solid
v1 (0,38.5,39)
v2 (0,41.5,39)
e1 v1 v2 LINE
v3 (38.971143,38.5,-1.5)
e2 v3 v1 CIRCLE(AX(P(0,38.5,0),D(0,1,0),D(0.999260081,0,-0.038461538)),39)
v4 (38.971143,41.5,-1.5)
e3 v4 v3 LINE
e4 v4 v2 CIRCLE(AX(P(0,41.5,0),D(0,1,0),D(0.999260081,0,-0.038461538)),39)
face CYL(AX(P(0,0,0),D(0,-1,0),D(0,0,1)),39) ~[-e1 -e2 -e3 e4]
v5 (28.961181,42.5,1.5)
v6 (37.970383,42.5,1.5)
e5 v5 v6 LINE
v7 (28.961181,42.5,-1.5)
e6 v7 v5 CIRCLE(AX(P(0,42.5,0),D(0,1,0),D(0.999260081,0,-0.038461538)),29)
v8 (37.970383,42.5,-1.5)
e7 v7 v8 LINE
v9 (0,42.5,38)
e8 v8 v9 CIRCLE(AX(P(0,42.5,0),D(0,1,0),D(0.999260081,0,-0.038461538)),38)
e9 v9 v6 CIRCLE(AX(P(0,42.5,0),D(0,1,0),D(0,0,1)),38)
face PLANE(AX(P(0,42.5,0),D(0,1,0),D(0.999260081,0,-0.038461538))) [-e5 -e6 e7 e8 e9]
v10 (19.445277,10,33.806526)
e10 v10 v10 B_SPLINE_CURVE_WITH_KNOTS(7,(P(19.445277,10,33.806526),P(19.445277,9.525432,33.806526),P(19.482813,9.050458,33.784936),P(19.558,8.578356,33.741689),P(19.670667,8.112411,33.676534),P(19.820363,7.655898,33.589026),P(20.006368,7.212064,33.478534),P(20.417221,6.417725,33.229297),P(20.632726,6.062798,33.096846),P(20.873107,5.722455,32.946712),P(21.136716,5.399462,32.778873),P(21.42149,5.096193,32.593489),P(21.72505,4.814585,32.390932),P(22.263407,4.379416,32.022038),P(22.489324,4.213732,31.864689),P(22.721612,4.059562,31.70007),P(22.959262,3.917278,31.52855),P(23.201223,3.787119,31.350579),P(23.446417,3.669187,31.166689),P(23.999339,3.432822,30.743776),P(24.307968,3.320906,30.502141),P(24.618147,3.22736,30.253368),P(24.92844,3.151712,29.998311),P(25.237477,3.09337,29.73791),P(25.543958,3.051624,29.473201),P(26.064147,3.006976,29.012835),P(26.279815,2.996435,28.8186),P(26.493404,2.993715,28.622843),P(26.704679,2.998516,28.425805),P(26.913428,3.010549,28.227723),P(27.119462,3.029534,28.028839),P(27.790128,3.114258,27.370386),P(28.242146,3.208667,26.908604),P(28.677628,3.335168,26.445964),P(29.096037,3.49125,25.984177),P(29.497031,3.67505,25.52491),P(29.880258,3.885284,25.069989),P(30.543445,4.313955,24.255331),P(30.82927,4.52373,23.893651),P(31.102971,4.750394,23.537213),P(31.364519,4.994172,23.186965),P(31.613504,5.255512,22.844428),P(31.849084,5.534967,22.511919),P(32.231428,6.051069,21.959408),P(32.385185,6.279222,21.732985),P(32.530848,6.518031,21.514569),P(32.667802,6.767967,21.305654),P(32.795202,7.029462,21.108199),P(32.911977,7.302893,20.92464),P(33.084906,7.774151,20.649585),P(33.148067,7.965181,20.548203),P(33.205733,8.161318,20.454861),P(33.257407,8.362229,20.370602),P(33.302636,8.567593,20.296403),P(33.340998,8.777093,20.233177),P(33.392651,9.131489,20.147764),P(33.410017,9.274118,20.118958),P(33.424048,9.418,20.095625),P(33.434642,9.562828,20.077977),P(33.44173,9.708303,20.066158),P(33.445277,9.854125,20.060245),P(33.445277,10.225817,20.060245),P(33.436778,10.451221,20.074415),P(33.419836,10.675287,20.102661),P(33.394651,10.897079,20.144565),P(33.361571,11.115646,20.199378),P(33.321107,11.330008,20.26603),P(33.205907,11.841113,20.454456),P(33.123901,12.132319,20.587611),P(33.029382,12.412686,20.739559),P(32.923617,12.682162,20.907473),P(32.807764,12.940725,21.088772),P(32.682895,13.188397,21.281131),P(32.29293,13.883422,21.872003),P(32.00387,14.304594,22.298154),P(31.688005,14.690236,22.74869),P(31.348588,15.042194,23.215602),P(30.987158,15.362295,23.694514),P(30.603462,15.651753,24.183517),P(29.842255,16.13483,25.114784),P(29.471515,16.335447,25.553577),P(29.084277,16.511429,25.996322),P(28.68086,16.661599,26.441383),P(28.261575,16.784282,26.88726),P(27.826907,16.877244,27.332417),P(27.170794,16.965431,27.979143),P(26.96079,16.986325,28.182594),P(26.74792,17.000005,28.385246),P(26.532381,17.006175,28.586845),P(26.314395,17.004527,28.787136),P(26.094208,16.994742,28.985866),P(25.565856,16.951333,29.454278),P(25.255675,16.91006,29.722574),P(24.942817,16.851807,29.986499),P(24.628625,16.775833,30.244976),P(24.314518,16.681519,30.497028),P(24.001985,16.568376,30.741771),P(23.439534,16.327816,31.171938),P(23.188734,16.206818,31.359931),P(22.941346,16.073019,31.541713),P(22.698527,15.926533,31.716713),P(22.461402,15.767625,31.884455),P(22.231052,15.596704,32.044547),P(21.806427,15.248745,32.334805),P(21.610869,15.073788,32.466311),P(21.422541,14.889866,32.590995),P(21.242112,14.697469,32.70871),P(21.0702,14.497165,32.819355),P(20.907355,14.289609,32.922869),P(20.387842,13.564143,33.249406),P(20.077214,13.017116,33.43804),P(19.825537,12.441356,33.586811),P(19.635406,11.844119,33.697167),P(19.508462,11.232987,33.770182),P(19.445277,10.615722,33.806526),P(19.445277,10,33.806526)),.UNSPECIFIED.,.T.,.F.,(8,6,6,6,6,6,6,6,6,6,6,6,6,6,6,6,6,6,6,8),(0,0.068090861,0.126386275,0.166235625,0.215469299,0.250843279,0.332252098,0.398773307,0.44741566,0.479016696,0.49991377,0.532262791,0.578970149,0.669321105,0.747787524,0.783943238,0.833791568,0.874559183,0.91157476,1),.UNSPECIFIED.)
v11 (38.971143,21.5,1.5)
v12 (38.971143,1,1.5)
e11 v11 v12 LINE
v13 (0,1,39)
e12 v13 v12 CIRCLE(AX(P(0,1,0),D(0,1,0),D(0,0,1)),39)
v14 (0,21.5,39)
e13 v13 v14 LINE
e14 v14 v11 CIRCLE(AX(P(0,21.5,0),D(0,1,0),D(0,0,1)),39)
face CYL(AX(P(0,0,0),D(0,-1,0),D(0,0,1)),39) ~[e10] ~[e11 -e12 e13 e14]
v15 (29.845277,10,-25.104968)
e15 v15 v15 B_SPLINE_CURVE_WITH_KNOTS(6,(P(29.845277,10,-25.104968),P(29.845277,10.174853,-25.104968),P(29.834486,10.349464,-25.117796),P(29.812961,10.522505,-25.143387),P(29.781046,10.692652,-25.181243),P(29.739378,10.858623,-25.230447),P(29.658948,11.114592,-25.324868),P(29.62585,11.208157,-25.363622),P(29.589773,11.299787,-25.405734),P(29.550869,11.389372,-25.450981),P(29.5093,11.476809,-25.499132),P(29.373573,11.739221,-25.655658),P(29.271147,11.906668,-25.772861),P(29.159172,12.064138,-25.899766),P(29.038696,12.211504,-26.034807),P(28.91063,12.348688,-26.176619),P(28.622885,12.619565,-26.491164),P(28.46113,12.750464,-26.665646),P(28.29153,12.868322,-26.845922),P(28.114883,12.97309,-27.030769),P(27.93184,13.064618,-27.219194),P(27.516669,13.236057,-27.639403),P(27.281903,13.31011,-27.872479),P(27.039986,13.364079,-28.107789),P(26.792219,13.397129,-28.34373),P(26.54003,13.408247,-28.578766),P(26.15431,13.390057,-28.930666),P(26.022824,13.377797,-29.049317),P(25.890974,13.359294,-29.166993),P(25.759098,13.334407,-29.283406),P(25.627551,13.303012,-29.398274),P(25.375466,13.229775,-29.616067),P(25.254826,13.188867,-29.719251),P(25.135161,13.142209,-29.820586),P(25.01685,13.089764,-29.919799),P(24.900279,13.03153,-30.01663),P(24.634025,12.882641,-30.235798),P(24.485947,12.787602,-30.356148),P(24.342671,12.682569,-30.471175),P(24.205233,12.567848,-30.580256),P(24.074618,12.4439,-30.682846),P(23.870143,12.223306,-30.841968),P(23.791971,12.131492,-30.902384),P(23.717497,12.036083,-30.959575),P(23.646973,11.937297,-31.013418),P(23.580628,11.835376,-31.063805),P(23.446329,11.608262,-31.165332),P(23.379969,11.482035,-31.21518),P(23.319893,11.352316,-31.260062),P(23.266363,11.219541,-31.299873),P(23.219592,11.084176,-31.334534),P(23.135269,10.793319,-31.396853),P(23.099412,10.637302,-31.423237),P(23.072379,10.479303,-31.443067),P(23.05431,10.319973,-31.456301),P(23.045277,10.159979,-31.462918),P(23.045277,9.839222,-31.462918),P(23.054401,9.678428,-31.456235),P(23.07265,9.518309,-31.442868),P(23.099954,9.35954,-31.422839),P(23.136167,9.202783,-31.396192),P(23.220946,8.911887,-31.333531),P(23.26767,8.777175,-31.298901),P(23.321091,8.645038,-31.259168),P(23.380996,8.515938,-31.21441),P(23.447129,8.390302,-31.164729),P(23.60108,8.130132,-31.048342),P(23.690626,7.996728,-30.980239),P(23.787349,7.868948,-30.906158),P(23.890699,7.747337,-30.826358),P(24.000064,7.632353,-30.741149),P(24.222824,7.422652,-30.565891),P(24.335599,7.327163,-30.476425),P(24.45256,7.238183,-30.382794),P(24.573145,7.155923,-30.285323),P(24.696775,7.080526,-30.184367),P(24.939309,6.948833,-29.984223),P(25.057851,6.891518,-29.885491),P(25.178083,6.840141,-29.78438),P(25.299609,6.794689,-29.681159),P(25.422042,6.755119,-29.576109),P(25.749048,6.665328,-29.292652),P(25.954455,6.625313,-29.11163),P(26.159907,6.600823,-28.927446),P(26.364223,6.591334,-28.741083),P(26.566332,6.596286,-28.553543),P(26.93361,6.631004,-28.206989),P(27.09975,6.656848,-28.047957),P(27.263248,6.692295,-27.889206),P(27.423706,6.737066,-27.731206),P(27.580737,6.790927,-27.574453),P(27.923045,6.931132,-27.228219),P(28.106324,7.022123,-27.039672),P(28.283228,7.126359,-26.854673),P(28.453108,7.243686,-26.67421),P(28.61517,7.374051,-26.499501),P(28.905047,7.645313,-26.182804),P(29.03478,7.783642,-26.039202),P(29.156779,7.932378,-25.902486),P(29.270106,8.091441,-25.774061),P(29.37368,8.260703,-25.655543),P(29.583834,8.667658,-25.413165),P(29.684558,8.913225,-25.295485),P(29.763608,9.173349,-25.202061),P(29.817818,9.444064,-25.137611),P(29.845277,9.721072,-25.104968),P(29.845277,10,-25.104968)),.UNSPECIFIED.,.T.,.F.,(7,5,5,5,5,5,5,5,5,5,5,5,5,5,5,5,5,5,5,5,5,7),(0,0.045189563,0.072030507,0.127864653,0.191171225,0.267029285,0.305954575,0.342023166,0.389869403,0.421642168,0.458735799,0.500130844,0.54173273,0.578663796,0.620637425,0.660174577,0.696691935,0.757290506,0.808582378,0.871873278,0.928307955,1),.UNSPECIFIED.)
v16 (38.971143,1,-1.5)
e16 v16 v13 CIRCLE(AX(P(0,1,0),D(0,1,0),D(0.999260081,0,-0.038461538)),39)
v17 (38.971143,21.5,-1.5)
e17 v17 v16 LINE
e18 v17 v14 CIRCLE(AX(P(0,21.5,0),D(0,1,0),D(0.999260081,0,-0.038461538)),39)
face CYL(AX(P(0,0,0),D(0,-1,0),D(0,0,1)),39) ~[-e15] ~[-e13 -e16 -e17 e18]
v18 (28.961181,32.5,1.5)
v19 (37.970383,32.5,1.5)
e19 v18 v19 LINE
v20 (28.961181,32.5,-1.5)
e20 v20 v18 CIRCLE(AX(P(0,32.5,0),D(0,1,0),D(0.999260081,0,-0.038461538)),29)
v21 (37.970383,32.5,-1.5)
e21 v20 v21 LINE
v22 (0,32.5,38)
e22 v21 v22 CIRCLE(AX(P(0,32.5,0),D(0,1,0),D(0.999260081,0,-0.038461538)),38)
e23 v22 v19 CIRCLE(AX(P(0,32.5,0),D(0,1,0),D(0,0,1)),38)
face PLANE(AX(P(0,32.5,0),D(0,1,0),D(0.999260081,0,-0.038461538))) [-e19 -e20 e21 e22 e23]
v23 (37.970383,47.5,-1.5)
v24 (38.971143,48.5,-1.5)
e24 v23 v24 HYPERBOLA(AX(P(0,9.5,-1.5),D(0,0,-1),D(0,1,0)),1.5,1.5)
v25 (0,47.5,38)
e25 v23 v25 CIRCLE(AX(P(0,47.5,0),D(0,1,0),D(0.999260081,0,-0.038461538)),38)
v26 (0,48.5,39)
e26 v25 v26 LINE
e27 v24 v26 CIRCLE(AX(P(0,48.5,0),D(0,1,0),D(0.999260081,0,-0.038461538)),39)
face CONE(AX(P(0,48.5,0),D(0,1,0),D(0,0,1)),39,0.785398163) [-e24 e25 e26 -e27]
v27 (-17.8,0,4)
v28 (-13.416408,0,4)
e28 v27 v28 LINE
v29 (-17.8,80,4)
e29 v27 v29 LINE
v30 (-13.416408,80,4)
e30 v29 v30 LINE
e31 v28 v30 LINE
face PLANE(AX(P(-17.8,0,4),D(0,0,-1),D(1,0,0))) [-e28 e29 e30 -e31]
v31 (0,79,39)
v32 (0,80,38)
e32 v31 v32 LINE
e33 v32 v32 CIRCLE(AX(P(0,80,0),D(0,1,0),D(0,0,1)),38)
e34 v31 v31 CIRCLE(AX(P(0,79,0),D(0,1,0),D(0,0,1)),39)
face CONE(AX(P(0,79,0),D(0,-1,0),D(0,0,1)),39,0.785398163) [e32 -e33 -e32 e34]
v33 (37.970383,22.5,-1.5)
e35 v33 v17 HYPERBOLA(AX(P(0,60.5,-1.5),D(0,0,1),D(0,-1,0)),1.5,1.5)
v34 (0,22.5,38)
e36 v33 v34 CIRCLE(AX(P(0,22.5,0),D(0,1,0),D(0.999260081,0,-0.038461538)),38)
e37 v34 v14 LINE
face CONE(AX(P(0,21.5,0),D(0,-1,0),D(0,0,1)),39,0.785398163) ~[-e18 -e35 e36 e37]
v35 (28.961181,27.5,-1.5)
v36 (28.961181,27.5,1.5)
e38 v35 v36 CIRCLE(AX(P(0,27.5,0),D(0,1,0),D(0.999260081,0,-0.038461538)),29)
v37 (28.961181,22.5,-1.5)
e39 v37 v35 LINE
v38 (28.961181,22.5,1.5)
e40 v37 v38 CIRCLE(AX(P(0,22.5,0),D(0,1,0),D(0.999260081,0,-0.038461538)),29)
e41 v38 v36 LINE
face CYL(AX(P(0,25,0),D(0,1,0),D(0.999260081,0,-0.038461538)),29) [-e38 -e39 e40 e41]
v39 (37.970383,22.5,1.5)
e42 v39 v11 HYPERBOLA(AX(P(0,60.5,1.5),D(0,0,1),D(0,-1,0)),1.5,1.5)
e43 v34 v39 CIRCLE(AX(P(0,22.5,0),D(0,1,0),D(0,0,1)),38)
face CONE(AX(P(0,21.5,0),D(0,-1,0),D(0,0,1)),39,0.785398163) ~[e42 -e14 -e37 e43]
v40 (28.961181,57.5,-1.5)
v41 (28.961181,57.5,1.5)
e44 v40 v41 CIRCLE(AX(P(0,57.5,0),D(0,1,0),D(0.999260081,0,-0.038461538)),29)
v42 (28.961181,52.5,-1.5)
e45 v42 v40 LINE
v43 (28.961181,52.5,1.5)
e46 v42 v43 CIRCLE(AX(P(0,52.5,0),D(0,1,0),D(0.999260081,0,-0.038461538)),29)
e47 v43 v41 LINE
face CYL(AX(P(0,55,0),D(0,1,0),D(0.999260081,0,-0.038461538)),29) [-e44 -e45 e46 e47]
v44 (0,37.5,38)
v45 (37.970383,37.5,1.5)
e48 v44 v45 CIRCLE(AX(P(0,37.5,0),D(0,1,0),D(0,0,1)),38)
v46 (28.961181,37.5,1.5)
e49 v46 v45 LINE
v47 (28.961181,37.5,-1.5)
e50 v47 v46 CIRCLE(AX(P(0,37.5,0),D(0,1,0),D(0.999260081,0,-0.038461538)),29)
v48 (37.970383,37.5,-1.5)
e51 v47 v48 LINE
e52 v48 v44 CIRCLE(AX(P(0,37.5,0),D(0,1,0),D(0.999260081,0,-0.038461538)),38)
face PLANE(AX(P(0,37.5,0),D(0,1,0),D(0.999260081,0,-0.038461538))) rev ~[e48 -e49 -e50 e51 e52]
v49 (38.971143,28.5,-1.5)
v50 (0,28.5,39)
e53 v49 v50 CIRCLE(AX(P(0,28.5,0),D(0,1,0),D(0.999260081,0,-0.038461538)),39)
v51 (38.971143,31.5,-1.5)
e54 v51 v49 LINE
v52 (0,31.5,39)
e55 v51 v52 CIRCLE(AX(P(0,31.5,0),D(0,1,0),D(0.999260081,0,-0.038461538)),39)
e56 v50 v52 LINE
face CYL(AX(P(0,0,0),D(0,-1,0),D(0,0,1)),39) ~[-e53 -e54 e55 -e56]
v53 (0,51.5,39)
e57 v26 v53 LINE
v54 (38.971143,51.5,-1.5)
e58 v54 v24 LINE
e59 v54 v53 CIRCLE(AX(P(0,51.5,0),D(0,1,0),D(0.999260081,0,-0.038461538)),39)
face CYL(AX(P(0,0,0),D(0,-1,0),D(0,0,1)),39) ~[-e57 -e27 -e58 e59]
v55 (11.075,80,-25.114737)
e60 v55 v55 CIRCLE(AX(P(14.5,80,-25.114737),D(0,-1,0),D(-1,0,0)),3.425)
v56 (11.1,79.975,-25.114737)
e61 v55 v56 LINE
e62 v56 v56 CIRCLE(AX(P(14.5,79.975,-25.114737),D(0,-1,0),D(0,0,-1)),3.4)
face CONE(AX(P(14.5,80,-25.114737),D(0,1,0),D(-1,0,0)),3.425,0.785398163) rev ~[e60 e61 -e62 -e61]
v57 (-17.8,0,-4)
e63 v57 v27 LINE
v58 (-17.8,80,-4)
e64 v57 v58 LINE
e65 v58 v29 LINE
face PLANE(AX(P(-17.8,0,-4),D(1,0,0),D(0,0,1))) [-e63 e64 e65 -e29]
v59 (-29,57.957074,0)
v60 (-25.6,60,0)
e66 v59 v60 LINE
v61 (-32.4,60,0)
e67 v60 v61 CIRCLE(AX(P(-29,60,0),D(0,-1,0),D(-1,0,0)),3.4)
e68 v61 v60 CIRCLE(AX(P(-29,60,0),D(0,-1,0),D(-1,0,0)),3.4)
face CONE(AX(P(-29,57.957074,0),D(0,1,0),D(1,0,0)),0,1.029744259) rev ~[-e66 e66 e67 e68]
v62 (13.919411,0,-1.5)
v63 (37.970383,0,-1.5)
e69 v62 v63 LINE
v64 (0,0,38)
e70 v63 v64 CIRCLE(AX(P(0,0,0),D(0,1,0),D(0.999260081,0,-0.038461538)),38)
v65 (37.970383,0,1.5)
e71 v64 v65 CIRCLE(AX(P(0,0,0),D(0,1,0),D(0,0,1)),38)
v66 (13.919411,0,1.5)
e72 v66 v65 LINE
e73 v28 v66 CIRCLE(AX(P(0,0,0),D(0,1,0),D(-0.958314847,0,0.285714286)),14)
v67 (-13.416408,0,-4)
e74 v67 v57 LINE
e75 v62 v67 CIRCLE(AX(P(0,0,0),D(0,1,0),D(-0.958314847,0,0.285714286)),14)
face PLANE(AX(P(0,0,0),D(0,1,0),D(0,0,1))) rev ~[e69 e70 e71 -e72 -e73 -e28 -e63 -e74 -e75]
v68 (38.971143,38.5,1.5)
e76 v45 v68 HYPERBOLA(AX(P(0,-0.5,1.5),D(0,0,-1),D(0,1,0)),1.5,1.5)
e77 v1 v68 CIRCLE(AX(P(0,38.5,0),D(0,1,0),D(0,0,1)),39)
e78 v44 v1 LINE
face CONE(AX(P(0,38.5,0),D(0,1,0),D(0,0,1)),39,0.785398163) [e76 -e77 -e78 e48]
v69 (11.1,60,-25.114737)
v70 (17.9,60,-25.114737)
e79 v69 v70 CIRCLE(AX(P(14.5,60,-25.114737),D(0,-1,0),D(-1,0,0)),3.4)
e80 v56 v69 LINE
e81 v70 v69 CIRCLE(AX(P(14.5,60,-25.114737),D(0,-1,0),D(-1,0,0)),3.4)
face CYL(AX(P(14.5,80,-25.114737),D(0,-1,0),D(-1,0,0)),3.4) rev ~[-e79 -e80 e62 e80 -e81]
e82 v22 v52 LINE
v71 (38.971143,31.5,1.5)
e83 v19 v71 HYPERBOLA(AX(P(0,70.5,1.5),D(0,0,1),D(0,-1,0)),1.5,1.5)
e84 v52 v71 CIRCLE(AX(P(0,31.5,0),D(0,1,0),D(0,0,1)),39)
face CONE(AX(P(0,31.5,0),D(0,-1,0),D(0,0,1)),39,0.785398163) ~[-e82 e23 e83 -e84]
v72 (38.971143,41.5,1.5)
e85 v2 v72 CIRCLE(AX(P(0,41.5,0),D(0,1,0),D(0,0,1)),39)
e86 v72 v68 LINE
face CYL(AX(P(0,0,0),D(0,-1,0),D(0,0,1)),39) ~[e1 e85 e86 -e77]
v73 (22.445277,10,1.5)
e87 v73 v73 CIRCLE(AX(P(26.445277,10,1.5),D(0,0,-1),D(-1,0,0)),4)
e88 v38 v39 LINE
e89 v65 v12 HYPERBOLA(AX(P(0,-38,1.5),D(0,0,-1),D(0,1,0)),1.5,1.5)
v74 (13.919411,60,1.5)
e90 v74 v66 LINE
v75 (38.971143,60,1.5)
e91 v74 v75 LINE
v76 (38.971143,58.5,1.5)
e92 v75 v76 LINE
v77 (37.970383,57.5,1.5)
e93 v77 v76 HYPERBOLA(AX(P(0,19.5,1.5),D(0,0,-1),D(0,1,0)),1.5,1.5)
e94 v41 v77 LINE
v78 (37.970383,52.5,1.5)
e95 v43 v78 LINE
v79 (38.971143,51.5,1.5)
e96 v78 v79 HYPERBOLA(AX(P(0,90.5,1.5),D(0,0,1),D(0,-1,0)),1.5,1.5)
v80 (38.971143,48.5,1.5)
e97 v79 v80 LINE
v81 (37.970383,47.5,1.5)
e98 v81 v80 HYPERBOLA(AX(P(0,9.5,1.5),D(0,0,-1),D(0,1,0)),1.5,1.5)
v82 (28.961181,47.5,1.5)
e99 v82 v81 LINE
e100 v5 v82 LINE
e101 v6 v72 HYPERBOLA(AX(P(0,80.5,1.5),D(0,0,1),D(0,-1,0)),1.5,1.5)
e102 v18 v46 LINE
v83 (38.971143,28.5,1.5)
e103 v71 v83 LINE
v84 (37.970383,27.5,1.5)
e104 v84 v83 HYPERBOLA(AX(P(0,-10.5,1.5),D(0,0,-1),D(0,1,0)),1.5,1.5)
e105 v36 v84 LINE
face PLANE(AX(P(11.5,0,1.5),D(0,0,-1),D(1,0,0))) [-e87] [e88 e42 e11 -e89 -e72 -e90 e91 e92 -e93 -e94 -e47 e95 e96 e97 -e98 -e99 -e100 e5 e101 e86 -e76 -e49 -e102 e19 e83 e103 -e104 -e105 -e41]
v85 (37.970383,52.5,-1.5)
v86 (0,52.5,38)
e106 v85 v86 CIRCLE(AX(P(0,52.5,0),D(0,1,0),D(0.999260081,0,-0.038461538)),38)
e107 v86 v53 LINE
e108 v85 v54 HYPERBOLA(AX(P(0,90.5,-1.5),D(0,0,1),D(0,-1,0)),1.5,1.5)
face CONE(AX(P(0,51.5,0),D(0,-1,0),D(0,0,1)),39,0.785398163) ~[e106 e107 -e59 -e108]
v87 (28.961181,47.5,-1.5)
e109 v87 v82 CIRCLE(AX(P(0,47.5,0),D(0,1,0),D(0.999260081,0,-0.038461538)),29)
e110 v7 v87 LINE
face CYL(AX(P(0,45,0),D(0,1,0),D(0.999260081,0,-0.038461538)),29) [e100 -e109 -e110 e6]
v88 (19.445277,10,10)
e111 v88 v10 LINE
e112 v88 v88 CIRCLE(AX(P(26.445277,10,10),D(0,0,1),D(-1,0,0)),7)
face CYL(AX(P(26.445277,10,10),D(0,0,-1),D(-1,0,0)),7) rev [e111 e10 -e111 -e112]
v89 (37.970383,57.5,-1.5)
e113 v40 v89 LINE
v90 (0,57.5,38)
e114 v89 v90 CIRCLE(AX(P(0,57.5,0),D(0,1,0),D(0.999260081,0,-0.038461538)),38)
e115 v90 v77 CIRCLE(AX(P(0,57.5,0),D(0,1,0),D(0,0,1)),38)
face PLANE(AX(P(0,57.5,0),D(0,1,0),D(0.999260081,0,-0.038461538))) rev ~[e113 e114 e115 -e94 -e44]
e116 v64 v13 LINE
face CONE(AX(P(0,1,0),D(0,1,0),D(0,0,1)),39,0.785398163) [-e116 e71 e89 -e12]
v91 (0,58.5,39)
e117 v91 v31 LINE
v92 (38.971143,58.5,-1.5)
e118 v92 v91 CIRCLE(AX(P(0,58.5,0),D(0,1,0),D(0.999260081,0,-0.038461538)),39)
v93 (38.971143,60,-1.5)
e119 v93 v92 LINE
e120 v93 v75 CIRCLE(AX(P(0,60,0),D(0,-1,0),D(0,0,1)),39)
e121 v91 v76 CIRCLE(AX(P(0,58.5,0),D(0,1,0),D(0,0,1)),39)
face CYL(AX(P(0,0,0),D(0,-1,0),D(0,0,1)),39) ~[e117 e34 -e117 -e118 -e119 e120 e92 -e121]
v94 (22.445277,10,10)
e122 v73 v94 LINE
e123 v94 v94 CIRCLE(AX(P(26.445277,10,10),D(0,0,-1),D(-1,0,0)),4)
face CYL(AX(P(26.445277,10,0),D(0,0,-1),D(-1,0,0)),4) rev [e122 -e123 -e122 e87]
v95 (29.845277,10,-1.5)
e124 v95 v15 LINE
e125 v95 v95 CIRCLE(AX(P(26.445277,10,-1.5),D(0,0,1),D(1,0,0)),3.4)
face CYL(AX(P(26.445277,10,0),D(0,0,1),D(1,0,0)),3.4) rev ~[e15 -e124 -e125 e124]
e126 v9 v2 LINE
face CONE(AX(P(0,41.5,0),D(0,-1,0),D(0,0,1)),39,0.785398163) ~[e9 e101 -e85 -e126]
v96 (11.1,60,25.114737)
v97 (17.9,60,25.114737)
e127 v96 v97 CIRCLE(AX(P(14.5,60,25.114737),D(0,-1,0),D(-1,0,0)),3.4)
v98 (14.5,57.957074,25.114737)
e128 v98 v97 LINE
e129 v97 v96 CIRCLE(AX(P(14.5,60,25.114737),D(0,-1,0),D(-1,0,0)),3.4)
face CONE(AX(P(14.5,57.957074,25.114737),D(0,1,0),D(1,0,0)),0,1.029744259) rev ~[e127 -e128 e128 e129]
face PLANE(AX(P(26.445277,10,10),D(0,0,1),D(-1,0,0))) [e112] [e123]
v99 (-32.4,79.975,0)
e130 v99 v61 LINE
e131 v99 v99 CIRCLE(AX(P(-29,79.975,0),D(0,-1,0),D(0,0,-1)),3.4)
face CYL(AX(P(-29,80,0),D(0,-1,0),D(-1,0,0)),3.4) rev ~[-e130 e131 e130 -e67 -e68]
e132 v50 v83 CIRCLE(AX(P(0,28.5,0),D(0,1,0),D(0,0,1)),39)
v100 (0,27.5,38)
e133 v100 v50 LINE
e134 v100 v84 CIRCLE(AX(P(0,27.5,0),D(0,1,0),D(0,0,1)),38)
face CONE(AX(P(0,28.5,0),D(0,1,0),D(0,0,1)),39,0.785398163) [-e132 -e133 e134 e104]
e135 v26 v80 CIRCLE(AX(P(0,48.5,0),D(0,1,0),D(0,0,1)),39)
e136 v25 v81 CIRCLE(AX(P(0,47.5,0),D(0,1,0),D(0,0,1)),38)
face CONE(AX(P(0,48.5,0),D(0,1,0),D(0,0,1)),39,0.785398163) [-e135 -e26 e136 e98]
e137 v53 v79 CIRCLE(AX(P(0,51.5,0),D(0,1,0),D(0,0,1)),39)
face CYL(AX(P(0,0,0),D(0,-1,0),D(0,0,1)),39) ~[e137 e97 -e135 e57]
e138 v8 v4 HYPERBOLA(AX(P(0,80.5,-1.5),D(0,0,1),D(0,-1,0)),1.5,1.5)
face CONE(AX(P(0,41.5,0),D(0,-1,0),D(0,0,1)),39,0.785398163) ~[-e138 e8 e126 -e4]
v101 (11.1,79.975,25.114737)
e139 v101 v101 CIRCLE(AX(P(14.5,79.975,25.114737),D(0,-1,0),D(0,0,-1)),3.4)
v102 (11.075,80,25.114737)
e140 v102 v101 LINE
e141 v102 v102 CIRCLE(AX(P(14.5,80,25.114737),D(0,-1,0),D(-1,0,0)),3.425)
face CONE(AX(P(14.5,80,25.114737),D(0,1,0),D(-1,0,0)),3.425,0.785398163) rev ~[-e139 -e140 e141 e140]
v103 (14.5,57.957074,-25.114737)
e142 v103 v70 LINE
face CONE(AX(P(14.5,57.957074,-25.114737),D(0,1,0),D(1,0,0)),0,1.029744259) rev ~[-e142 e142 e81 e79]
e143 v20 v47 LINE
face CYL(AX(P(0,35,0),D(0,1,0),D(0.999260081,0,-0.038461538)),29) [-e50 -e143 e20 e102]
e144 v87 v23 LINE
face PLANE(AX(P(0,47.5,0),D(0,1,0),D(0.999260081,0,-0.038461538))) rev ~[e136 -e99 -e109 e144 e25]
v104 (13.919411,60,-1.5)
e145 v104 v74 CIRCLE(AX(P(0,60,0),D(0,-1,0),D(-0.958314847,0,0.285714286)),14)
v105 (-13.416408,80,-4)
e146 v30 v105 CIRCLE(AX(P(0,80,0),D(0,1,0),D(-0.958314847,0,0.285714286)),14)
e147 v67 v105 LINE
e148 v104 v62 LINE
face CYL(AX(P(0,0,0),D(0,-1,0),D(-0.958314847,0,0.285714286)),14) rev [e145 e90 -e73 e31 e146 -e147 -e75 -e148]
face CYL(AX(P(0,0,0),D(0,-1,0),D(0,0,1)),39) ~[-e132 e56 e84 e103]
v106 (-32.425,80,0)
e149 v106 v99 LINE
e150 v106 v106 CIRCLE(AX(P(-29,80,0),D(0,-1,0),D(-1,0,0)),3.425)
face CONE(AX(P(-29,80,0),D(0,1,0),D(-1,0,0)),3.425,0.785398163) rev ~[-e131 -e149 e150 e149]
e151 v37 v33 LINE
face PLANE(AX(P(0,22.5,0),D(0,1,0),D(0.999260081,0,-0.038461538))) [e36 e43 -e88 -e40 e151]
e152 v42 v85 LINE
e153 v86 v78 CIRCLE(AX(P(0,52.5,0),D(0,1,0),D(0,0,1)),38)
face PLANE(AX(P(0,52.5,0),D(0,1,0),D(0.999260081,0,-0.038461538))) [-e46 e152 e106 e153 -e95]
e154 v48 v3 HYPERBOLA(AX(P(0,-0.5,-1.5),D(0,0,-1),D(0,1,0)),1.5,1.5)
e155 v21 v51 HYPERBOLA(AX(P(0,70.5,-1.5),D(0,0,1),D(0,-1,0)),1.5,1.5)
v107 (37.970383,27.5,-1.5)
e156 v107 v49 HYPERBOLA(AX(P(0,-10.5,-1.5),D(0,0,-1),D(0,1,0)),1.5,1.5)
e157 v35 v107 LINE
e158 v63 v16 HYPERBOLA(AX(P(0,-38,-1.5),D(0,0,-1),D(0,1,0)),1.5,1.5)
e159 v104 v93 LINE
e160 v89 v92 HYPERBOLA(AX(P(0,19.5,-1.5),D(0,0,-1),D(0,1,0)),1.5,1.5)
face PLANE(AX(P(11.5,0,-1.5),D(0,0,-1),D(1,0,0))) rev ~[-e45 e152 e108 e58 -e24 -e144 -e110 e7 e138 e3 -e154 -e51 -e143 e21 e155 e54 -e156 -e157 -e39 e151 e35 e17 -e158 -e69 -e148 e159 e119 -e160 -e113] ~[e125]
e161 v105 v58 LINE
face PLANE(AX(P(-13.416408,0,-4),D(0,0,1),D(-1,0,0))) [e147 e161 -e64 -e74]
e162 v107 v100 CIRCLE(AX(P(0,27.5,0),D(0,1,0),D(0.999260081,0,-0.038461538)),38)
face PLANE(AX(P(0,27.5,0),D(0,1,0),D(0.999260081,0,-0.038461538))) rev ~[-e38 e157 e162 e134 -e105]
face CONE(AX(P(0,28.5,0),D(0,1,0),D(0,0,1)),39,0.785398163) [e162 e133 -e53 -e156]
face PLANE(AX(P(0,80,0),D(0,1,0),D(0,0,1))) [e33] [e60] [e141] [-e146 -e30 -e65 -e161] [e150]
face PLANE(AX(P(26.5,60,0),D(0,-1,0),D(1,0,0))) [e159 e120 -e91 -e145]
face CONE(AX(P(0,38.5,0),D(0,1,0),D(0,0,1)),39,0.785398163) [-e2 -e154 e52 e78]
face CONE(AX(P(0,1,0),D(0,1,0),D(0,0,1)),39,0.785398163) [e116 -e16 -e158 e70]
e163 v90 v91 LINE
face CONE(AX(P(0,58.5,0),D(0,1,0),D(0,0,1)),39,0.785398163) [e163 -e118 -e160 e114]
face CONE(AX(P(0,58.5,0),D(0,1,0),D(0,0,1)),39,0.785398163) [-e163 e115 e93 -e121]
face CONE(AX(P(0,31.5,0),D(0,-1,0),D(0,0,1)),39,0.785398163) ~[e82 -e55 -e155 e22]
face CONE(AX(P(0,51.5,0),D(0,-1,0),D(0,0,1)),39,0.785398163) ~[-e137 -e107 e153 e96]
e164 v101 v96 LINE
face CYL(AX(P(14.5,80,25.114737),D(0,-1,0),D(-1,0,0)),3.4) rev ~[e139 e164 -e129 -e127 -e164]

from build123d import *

# Parameters (mm, degrees)
SKETCH4_R                            = 39
BOSS_EXTRUDE1_DEPTH                  = 80
SKETCH7_W                            = 30
SKETCH7_H                            = 3
CUT_EXTRUDE1_DEPTH                   = 60
SKETCH9_R                            = 3.4
CUT_EXTRUDE2_DEPTH                   = 98.169954204
SKETCH10_R                           = 4
CUT_EXTRUDE3_DEPTH                   = 98.169954367
CUT_EXTRUDE4_START                   = 10
SKETCH11_R                           = 7
CUT_EXTRUDE4_DEPTH                   = 88.169954367
SKETCH14_W                           = 10
SKETCH14_H                           = 5
LPATTERN2_COUNT                      = 4
LPATTERN2_PITCH                      = 10
CHAMFER1_SIZE                        = 1
F_6_8_6_8_DIAMETER_HOLE1_D           = 6.8
F_6_8_6_8_DIAMETER_HOLE1_DEPTH       = 20
F_6_8_6_8_DIAMETER_HOLE1_CSINK_D     = 6.85
F_6_8_6_8_DIAMETER_HOLE1_CSINK_ANGLE = 90
F_6_8_6_8_DIAMETER_HOLE1_TIP         = 2.042926105


with BuildPart() as part:
    # Sketch4 → Boss-Extrude1 (new body)
    with BuildSketch(Plane(origin=(0, 0, 0), x_dir=(1, 0, 0), z_dir=(0, 1, 0))):
        with Locations(Location((0, 0, 0), (0, 0, 270))):
            Circle(SKETCH4_R)
        with BuildLine():
            Line((-17.8, 4), (-17.8, -4))
            Line((-17.8, -4), (-13.416407865, -4))
            ThreePointArc((-13.416407865, -4), (14, 0), (-13.416407865, 4))
            Line((-13.416407865, 4), (-17.8, 4))
        make_face(mode=Mode.SUBTRACT)
    extrude(amount=BOSS_EXTRUDE1_DEPTH)

    # Sketch7 → Cut-Extrude1 (cut)
    with BuildSketch(Plane.XZ):
        with Locations((26.5, 0)):
            Rectangle(SKETCH7_W, SKETCH7_H)
    extrude(amount=-CUT_EXTRUDE1_DEPTH, mode=Mode.SUBTRACT)

    # Sketch9 → Cut-Extrude2 (cut, through all)
    with BuildSketch(Plane.XY):
        with Locations((26.445277039, 10)):
            Circle(SKETCH9_R)
    extrude(amount=-CUT_EXTRUDE2_DEPTH, mode=Mode.SUBTRACT)

    # Sketch10 → Cut-Extrude3 (cut, through all)
    with BuildSketch(Plane.XY):
        with Locations(Location((26.445277039, 10, 0), (0, 0, 180))):
            Circle(SKETCH10_R)
    extrude(amount=CUT_EXTRUDE3_DEPTH, mode=Mode.SUBTRACT)

    # Sketch11 → Cut-Extrude4 (cut, through all)
    with BuildSketch(Plane.XY.offset(CUT_EXTRUDE4_START)):
        with Locations(Location((26.445277039, 10, 0), (0, 0, 180))):
            Circle(SKETCH11_R)
    extrude(amount=CUT_EXTRUDE4_DEPTH, mode=Mode.SUBTRACT)

    # Sketch14 → Cut-Revolve5 (revolve, cut)
    with BuildSketch(Plane.XY, mode=Mode.PRIVATE) as cut_revolve5_sk:
        with Locations((-34, 55)):
            Rectangle(SKETCH14_W, SKETCH14_H)
    cut_revolve5 = revolve(cut_revolve5_sk.sketch.rotate(Axis((0, 0, 0), (0, 1, 0)), 182.204227504), axis=Axis((0, 0, 0), (0, 1, 0)), mode=Mode.SUBTRACT)

    # LPattern2: Cut-Revolve5 ×4
    with Locations(*[(0, -i * LPATTERN2_PITCH, 0) for i in range(1, LPATTERN2_COUNT)]):
        add(cut_revolve5, mode=Mode.SUBTRACT)

    # Chamfer1
    chamfer1_edges = [part.edges().sort_by_distance(p)[0] for p in [
        (-28.102490993, 27.5, -27.041634566),
        (-28.102490993, 22.5, -27.041634566),
        (-28.102490993, 0, -27.041634566),
        (0, 80, -39),
        (-28.102490993, 57.5, -27.041634566),
        (-28.102490993, 52.5, -27.041634566),
        (-28.102490993, 47.5, -27.041634566),
        (-28.102490993, 42.5, -27.041634566),
        (-28.102490993, 37.5, -27.041634566),
        (-28.102490993, 32.5, -27.041634566),
    ]]
    chamfer(chamfer1_edges, length=CHAMFER1_SIZE)

    # Ø6.8 (6.8) Diameter Hole1
    with Locations(Plane(origin=(0, 80, 0), x_dir=(1, 0, 0), z_dir=(0, 1, 0))):
        with Locations((14.5, -25.11473671), (-29, 0), (14.5, 25.11473671), (-2.395896041, 7.986320136)):
            CounterSinkHole(F_6_8_6_8_DIAMETER_HOLE1_D / 2, F_6_8_6_8_DIAMETER_HOLE1_CSINK_D / 2, depth=F_6_8_6_8_DIAMETER_HOLE1_DEPTH, counter_sink_angle=F_6_8_6_8_DIAMETER_HOLE1_CSINK_ANGLE)
            with Locations((0, 0, -(F_6_8_6_8_DIAMETER_HOLE1_DEPTH + F_6_8_6_8_DIAMETER_HOLE1_TIP / 2))):  # 118° drill point
                Cone(0, F_6_8_6_8_DIAMETER_HOLE1_D / 2, F_6_8_6_8_DIAMETER_HOLE1_TIP, mode=Mode.SUBTRACT)


solid = part.part
